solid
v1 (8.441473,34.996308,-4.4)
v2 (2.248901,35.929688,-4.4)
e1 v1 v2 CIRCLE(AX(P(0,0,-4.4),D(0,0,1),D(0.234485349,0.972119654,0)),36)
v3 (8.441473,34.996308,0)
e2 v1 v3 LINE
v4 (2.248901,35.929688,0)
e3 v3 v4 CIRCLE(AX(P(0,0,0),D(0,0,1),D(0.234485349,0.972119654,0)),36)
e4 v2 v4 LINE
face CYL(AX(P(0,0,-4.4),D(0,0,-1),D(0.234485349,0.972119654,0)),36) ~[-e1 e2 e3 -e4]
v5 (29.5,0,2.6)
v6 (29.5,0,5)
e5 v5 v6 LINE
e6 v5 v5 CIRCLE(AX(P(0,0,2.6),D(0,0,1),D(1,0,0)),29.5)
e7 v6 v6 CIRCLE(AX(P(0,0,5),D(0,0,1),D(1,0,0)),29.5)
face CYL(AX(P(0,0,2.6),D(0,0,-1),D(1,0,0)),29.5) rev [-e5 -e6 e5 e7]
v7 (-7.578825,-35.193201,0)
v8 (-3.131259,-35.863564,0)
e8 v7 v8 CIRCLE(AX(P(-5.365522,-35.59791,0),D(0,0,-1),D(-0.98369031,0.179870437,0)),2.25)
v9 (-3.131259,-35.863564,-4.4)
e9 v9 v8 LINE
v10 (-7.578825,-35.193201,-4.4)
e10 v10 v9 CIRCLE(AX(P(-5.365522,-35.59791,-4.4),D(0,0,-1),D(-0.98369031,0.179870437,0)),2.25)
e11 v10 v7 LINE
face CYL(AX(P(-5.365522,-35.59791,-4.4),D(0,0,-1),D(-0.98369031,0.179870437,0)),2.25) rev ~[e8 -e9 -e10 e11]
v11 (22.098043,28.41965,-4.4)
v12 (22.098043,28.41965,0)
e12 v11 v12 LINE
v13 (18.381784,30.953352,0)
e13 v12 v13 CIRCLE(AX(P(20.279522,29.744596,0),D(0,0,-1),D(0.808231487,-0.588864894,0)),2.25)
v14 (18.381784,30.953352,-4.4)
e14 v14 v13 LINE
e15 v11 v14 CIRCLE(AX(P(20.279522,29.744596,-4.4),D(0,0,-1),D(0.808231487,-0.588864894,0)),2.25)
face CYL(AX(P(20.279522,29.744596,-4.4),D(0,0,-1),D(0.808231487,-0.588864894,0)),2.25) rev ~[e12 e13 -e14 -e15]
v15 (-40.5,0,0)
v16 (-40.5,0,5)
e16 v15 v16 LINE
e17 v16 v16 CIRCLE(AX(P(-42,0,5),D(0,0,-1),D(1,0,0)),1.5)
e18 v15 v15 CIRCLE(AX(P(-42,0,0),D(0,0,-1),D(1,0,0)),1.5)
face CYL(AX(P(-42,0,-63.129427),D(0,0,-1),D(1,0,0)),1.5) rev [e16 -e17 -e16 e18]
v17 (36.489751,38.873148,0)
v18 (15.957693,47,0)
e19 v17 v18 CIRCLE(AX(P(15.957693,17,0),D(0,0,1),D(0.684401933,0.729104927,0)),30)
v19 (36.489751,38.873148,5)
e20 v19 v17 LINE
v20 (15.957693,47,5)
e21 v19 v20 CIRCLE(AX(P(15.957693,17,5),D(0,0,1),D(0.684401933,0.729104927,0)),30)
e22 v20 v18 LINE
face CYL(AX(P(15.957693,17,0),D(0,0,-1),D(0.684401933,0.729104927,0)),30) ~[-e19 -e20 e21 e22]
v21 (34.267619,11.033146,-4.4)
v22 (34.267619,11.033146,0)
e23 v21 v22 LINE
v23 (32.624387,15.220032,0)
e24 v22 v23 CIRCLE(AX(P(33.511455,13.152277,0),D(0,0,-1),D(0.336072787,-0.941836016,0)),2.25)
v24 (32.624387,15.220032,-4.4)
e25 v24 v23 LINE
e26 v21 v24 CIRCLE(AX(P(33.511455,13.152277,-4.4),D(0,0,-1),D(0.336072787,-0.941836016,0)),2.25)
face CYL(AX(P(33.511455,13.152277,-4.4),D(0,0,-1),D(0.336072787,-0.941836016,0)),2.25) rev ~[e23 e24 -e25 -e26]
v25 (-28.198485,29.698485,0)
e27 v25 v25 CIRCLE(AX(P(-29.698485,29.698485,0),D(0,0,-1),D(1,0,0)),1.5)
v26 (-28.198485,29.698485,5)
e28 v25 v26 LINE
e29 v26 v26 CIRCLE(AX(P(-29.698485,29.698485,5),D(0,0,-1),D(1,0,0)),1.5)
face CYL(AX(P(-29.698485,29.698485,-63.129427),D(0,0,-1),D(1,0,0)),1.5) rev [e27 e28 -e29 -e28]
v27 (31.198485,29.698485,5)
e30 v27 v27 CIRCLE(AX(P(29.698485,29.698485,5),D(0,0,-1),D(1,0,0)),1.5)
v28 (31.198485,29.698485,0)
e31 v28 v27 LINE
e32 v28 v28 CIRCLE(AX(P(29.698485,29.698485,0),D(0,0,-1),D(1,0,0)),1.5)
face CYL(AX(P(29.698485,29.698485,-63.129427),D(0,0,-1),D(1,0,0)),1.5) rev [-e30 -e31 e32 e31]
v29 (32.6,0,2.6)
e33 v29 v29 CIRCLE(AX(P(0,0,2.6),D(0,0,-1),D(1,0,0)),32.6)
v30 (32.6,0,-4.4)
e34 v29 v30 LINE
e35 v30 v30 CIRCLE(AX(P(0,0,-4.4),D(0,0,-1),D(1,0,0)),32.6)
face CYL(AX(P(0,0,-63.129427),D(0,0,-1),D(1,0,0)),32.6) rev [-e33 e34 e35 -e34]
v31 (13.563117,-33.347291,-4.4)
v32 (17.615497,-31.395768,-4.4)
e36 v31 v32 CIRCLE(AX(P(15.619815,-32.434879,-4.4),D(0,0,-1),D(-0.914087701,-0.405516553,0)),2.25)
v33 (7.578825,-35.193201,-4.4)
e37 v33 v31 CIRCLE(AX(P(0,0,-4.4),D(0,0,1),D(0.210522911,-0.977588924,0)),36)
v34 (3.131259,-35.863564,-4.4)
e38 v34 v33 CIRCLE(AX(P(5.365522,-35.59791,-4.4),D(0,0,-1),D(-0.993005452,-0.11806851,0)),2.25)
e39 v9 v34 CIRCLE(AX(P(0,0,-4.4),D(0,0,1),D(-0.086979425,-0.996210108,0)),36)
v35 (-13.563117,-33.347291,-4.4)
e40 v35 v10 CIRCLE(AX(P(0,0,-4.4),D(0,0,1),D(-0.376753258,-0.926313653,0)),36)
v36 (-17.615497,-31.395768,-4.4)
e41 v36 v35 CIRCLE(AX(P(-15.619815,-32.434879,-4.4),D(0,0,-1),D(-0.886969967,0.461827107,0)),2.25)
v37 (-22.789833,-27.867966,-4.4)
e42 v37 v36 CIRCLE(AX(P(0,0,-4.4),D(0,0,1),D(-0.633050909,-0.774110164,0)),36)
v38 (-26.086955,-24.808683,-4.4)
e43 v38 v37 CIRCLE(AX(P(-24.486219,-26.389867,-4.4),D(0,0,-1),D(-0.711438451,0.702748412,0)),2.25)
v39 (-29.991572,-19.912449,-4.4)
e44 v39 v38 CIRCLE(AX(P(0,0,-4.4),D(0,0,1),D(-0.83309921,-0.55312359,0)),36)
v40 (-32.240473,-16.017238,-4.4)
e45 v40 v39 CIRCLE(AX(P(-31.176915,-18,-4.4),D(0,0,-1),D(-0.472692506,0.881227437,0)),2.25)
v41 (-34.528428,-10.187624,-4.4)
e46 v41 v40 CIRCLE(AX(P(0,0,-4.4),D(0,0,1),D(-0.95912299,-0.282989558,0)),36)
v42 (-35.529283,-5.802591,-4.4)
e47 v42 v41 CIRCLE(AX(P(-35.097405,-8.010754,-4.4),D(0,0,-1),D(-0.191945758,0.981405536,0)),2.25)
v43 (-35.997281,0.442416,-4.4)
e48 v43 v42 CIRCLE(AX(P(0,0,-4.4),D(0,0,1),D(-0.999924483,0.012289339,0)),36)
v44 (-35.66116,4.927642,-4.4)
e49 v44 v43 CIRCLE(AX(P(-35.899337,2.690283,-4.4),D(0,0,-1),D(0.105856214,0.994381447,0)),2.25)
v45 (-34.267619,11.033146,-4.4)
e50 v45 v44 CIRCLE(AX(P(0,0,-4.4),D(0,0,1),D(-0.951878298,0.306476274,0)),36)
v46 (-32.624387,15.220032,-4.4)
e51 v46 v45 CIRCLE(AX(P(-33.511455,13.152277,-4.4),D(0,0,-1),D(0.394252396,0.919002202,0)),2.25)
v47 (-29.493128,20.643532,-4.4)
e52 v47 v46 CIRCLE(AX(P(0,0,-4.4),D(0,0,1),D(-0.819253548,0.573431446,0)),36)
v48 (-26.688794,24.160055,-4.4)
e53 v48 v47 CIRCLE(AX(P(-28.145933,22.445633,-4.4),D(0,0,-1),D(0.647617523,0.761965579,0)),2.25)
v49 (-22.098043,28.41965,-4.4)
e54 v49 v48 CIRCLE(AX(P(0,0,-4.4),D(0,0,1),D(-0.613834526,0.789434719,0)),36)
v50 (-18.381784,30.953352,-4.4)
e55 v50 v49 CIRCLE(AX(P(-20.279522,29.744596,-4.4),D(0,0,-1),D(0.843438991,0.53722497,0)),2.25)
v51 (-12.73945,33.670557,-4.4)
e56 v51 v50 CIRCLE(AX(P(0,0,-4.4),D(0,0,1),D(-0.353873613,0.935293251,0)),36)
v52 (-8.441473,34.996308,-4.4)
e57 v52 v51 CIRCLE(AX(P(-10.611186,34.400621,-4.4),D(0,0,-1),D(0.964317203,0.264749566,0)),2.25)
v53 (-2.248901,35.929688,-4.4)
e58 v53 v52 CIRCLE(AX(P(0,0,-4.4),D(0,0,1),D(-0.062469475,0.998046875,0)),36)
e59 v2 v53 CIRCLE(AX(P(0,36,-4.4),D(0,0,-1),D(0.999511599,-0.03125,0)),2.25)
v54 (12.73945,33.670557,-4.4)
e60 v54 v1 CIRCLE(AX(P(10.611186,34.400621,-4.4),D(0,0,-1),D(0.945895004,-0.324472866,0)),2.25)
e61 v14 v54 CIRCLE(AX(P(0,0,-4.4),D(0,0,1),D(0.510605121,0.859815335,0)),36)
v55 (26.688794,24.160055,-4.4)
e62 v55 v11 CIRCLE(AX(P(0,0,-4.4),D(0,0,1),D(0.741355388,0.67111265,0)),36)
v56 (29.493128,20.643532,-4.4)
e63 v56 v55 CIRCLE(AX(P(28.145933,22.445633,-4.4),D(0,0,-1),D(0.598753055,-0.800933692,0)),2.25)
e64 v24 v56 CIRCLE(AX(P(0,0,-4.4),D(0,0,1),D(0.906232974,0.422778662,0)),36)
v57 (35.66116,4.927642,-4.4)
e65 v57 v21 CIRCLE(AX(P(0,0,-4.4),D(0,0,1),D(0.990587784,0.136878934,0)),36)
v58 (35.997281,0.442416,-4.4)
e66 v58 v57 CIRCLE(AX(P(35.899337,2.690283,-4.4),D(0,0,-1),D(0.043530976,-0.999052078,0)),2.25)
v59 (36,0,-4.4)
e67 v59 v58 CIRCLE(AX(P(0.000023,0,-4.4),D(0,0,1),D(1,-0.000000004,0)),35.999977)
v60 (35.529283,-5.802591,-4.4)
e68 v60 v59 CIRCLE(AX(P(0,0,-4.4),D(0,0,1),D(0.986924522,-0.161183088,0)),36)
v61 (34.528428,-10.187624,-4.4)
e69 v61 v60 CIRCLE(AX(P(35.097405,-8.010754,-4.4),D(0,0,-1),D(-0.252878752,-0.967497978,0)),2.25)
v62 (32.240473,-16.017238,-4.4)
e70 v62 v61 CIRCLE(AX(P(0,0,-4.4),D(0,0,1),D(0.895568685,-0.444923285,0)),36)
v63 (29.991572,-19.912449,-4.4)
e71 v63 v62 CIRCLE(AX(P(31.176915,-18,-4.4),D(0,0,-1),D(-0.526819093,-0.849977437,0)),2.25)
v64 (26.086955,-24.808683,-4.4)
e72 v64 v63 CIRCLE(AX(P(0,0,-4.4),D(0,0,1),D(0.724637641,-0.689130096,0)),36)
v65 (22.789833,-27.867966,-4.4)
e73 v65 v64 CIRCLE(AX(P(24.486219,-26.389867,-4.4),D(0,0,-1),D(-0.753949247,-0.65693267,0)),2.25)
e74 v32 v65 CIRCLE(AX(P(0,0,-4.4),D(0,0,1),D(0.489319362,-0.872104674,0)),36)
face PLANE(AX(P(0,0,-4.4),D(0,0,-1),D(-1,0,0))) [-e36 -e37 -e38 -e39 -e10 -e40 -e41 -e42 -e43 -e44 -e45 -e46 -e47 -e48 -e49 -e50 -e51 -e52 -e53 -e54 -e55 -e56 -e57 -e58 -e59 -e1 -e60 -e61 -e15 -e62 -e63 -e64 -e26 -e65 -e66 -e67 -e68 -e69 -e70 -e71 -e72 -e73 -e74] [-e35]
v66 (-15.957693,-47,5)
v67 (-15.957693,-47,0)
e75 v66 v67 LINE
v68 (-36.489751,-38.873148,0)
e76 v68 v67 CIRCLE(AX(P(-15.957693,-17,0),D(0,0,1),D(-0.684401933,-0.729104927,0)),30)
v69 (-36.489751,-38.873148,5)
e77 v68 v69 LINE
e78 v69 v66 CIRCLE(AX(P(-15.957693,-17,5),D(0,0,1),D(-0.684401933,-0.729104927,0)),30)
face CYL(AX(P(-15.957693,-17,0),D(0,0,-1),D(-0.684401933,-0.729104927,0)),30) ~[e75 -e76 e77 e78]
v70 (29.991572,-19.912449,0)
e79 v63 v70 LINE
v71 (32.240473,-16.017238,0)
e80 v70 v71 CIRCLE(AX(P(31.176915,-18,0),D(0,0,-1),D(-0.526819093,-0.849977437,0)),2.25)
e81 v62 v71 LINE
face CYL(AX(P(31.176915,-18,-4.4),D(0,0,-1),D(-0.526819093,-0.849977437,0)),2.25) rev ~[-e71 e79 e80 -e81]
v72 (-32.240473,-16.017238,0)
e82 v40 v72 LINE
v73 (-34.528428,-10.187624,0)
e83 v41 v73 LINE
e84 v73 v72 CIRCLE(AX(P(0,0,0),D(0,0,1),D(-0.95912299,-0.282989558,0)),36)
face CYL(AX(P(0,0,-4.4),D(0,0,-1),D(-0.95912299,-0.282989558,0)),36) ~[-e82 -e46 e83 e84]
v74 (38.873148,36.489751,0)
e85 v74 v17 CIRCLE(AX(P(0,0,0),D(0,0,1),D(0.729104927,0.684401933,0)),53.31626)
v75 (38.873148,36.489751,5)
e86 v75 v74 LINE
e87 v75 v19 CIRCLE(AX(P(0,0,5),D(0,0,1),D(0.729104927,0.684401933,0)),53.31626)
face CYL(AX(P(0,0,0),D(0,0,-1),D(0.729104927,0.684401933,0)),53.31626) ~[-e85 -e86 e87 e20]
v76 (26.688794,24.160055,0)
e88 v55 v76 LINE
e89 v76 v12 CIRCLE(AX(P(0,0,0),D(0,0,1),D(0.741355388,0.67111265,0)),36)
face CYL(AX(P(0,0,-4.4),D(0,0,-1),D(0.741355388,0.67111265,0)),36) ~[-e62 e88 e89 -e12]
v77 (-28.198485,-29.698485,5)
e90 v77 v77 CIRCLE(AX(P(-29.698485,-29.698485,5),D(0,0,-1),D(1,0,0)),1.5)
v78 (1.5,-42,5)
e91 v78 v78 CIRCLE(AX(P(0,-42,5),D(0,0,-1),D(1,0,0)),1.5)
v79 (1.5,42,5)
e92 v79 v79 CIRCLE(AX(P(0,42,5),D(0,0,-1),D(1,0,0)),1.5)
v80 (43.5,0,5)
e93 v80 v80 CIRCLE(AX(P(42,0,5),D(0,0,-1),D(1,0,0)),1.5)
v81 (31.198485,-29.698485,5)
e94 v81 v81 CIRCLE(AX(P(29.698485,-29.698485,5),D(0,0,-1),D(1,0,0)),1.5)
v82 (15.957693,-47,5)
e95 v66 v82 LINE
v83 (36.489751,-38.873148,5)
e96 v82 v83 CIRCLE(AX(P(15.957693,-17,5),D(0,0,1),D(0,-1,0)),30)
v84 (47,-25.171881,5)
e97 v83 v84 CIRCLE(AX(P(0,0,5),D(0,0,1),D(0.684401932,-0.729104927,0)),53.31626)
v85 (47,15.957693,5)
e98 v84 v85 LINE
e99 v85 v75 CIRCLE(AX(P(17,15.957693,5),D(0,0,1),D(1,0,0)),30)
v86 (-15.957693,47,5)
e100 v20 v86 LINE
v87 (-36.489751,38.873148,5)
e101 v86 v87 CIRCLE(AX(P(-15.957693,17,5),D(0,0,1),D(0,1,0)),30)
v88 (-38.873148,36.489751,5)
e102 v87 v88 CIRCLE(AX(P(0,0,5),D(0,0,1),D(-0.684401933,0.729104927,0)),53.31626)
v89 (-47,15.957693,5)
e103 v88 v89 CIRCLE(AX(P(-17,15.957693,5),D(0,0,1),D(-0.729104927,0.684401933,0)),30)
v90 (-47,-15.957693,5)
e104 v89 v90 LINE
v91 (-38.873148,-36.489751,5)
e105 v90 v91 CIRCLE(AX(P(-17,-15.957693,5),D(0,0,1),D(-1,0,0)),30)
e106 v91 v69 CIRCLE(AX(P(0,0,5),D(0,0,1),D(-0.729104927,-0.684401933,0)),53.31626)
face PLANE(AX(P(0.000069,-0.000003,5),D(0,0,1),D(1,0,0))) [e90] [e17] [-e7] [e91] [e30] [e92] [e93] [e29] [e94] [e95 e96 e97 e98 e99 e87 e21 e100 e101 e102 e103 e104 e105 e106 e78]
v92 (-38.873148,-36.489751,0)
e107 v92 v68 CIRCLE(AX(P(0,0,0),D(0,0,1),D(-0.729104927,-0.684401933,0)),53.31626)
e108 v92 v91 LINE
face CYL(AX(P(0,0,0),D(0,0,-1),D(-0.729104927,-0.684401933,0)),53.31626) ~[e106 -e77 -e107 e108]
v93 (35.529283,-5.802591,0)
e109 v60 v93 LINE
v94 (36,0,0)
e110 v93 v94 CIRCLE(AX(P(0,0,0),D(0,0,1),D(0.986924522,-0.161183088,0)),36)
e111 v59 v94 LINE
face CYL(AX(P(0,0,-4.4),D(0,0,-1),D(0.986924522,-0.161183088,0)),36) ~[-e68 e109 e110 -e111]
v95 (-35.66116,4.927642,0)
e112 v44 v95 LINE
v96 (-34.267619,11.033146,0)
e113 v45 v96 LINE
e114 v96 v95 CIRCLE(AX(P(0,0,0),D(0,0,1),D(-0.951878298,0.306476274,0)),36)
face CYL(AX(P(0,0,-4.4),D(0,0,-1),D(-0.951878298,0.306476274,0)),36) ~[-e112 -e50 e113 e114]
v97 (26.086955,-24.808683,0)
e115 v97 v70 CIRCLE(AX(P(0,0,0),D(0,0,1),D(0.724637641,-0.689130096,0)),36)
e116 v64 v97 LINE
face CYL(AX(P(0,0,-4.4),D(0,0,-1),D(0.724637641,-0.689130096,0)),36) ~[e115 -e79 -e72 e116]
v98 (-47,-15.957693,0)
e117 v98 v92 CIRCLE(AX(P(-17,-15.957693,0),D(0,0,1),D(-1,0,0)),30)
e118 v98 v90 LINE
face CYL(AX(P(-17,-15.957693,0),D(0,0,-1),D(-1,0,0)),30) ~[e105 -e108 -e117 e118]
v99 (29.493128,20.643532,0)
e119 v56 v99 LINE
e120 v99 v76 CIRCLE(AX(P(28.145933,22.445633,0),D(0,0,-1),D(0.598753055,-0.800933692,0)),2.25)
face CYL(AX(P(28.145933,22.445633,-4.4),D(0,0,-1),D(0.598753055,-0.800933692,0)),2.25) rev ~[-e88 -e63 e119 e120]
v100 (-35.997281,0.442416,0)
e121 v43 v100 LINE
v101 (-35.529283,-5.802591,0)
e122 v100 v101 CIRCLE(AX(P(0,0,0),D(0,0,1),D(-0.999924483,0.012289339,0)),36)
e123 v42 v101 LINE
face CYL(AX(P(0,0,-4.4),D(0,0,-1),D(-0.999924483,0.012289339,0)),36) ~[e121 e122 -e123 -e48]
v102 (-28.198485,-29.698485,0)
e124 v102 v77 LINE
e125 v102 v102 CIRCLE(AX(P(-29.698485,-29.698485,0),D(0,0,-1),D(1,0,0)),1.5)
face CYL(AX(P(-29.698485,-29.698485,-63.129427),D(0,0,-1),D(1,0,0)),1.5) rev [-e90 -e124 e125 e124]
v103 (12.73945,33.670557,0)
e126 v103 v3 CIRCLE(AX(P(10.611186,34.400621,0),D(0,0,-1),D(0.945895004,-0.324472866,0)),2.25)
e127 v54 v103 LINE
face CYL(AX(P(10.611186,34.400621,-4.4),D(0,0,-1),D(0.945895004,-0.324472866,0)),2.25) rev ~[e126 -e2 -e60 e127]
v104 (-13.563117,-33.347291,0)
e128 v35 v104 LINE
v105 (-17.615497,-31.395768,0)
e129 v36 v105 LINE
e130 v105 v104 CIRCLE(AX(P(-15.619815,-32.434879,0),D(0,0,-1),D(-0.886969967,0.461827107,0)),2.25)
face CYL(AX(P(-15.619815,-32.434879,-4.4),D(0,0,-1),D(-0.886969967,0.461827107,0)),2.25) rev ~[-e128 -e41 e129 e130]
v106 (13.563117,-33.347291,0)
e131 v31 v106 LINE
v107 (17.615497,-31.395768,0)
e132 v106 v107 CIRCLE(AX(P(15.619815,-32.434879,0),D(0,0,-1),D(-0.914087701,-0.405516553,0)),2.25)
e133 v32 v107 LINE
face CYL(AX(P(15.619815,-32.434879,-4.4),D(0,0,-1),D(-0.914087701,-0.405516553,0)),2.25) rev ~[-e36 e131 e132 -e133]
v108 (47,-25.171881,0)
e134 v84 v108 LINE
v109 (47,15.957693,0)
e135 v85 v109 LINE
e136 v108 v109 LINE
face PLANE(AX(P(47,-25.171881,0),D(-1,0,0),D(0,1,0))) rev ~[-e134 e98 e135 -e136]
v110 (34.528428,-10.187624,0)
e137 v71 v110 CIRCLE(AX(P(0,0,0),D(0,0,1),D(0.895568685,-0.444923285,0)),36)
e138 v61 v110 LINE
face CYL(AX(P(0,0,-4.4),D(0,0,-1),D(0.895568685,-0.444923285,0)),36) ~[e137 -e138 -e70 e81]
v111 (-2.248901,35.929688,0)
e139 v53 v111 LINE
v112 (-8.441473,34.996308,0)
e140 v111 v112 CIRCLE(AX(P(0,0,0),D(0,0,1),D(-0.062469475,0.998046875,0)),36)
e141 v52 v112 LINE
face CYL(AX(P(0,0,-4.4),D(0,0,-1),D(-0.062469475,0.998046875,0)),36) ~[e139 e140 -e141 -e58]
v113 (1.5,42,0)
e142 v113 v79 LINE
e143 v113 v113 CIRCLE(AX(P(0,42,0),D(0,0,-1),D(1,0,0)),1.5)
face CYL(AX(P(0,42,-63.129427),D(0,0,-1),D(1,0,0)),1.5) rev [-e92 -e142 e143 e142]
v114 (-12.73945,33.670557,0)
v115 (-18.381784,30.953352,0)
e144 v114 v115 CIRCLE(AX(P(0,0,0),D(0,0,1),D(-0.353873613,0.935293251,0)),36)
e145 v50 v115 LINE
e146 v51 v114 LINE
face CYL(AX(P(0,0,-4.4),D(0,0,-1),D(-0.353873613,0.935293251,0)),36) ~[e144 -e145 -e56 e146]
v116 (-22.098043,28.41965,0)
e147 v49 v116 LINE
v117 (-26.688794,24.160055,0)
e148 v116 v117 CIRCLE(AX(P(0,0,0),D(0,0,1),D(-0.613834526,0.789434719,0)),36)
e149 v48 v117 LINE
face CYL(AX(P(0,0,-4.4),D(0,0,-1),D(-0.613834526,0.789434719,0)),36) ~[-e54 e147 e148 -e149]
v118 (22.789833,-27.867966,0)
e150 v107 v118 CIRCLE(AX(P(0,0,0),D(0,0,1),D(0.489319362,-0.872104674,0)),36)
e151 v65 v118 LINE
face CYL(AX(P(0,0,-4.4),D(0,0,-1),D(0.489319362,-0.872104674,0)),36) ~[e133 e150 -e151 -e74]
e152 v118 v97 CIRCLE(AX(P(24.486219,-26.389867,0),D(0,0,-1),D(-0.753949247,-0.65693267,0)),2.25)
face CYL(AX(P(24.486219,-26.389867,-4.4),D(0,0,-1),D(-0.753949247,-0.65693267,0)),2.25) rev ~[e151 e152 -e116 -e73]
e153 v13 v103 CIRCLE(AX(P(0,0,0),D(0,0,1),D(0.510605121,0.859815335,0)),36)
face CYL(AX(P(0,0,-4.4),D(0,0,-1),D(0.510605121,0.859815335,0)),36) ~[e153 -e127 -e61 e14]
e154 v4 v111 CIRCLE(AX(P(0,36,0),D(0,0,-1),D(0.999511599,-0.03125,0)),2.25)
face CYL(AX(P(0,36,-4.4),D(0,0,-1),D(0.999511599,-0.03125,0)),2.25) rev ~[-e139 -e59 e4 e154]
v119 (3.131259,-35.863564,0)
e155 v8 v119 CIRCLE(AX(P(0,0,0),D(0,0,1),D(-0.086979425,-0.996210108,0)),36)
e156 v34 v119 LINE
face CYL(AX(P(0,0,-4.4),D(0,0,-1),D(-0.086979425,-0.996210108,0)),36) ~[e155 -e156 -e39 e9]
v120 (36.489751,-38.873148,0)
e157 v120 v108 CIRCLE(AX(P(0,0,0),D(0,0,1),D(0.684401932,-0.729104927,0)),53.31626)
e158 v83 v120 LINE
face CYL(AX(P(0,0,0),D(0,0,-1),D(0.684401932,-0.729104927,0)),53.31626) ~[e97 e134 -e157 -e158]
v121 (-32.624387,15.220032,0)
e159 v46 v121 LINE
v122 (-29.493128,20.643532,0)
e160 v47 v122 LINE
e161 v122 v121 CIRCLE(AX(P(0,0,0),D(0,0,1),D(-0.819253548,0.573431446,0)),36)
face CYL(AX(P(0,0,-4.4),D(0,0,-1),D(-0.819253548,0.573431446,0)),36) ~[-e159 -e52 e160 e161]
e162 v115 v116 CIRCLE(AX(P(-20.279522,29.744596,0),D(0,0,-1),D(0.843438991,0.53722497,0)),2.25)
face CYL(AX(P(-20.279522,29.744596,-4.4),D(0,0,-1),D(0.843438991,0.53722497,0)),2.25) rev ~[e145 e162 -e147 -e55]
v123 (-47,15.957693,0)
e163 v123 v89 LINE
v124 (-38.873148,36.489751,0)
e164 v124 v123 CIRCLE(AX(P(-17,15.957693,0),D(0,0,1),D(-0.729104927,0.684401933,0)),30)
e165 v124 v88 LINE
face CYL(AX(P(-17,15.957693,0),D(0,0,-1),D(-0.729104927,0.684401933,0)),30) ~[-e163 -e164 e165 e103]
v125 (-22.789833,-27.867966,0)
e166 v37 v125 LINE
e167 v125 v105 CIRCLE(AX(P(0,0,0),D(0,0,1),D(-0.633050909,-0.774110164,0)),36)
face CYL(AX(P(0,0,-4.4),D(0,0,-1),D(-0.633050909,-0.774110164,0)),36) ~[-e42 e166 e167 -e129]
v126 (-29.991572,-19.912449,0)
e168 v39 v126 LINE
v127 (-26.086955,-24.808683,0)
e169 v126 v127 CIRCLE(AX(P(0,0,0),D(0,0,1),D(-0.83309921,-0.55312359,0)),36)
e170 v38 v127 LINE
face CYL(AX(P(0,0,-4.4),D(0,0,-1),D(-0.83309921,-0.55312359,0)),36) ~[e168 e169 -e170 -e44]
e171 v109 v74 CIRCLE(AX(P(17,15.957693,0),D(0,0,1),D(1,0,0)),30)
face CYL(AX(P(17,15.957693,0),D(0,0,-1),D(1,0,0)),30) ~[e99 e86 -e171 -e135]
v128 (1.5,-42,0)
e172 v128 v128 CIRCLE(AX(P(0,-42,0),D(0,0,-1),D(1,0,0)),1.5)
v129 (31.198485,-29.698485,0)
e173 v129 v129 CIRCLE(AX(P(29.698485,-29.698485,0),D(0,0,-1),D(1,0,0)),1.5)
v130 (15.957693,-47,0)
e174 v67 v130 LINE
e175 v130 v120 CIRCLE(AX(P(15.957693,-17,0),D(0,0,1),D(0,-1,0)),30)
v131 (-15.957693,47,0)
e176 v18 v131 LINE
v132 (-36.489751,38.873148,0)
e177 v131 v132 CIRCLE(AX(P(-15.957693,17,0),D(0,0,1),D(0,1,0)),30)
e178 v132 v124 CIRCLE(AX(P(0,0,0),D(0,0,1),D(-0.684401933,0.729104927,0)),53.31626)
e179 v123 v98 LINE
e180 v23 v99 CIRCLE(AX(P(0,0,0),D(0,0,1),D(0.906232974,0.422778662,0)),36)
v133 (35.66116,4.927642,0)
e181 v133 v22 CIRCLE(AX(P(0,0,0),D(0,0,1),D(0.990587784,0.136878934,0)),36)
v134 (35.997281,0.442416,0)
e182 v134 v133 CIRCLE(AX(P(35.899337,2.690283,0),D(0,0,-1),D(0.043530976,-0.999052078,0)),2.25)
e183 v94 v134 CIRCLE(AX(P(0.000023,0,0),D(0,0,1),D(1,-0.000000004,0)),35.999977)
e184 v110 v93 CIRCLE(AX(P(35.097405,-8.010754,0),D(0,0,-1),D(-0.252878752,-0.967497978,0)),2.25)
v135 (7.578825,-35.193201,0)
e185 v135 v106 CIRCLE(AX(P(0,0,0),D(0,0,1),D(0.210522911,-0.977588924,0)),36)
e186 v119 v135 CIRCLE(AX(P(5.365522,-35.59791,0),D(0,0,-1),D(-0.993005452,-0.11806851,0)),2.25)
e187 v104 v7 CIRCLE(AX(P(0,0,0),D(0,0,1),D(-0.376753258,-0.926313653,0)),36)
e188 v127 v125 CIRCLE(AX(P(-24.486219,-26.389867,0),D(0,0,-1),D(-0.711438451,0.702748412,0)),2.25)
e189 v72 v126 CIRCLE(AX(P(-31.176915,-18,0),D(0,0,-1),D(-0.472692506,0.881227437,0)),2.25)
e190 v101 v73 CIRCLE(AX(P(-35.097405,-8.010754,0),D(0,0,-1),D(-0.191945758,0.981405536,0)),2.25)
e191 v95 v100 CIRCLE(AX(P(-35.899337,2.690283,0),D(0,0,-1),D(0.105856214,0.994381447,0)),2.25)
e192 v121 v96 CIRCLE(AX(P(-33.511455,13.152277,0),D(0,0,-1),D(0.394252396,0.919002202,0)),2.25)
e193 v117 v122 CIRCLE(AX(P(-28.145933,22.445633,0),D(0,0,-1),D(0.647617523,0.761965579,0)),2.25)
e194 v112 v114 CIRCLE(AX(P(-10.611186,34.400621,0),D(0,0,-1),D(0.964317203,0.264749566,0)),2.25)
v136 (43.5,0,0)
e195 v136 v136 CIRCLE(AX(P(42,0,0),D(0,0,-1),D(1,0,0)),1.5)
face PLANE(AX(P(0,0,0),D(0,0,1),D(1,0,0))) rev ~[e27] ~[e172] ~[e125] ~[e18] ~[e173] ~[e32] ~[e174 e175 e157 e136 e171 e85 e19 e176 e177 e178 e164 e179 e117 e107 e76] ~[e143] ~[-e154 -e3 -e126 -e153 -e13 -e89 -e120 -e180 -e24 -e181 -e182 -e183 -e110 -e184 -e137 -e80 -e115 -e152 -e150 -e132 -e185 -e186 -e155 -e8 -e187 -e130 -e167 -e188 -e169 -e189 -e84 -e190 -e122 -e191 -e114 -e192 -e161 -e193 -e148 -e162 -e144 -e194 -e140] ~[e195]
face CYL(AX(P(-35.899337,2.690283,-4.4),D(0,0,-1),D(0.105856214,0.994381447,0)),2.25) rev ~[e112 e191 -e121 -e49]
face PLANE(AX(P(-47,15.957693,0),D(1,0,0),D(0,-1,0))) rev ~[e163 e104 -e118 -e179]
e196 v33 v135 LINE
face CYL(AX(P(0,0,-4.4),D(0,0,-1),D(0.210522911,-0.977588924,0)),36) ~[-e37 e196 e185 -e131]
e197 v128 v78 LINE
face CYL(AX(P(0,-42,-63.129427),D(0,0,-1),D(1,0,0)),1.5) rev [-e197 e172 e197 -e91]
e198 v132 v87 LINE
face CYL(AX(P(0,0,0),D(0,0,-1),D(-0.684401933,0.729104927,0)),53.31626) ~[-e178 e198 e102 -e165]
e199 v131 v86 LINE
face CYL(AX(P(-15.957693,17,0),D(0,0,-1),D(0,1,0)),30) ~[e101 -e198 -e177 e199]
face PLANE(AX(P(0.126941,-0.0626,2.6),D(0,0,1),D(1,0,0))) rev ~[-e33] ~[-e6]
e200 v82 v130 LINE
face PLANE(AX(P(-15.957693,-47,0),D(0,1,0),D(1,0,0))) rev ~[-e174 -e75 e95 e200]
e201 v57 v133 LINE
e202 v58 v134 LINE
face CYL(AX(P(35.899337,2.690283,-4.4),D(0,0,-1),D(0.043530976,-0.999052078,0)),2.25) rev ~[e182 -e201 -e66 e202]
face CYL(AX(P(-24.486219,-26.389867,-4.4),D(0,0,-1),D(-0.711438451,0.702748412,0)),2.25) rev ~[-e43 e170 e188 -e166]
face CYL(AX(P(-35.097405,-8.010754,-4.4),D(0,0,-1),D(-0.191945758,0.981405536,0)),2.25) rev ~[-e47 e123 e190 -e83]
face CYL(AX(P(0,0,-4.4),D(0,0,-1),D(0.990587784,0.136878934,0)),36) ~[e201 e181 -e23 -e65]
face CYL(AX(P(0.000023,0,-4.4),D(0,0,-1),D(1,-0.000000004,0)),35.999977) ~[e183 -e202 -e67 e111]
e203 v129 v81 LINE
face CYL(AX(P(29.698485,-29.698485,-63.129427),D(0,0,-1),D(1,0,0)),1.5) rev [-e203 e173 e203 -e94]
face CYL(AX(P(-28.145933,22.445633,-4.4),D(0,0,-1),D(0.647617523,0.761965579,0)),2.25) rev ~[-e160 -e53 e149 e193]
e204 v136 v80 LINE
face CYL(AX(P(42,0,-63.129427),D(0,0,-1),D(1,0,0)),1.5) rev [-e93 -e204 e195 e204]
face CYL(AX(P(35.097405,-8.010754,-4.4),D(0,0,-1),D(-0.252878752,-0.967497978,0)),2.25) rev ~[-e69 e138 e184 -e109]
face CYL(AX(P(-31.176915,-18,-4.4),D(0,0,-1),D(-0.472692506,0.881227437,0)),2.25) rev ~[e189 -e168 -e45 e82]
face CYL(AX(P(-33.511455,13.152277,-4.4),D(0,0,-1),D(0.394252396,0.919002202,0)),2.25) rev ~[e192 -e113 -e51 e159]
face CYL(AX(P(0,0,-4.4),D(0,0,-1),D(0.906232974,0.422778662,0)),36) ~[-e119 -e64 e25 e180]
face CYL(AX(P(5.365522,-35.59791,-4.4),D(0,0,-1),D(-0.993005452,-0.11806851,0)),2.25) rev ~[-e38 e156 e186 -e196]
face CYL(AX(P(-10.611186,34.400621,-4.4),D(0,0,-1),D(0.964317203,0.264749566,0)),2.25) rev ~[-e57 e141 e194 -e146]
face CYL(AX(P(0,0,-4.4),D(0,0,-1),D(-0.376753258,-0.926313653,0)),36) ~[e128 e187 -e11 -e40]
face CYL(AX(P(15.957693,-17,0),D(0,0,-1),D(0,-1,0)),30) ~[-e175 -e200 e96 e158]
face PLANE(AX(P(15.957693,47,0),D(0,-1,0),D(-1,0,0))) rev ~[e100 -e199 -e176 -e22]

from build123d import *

# Parameters (mm, degrees)
SKETCH1_R               = 36
BOSS_EXTRUDE1_DEPTH     = 5
BOSS_EXTRUDE2_START     = -4.4
BOSS_EXTRUDE2_DEPTH     = 4.4
BOSS_EXTRUDE3_START     = -5
BOSS_EXTRUDE3_DEPTH     = 5
BOSS_EXTRUDE4_START     = 4.4
SKETCH3_R               = 32.7
SKETCH3_R_2             = 32.6
BOSS_EXTRUDE4_DEPTH     = 4.4
CUT_EXTRUDE1_DEPTH      = 68.129427228
CUT_EXTRUDE1_DEPTH_BACK = 68.129427228
SKETCH4_R               = 32.6
BOSS_EXTRUDE5_START     = -2.4
SKETCH5_R               = 29.5
BOSS_EXTRUDE5_DEPTH     = 2.4
CUT_EXTRUDE3_DEPTH      = 68.129427228
CUT_EXTRUDE3_DEPTH_BACK = 68.129427228
SKETCH6_R               = 1.5


with BuildPart() as part:
    # Sketch1 → Boss-Extrude1 (new body)
    # profile 1 of 3: a face of its own
    with BuildSketch(Plane.XY):
        with BuildLine():
            Line((15.957693357, 47), (-15.957693357, 47))
            ThreePointArc((-15.957693357, 47), (-26.99865268, 44.894394011), (-36.489751331, 38.873147815))
            ThreePointArc((-36.489751331, 38.873147815), (-37.700288946, 37.700288946), (-38.873147815, 36.489751331))
            ThreePointArc((-38.873147815, 36.489751331), (-44.894394011, 26.99865268), (-47, 15.957693357))
            Line((-47, 15.957693357), (-47, -15.957693357))
            ThreePointArc((-47, -15.957693357), (-44.894394011, -26.99865268), (-38.873147815, -36.489751331))
            ThreePointArc((-38.873147815, -36.489751331), (-37.700288946, -37.700288946), (-36.489751331, -38.873147815))
            ThreePointArc((-36.489751331, -38.873147815), (-26.99865268, -44.894394011), (-15.957693357, -47))
            Line((-15.957693357, -47), (15.957693357, -47))
            ThreePointArc((15.957693357, -47), (26.99865268, -44.894394011), (36.489751331, -38.873147815))
            ThreePointArc((36.489751331, -38.873147815), (42.303260219, -32.45085127), (47, -25.171880606))
            Line((47, -25.171880606), (47, 15.957693357))
            ThreePointArc((47, 15.957693357), (44.894394011, 26.99865268), (38.873147815, 36.489751331))
            ThreePointArc((38.873147815, 36.489751331), (37.700288946, 37.700288946), (36.489751331, 38.873147815))
            ThreePointArc((36.489751331, 38.873147815), (26.99865268, 44.894394011), (15.957693357, 47))
        make_face()
        Circle(SKETCH1_R, mode=Mode.SUBTRACT)
    # profile 2 of 3: a face of its own
    with BuildSketch(Plane.XY):
        with BuildLine():
            ThreePointArc((35.529282793, -5.802591166), (35.882127728, -2.910826297), (36, 0))
            ThreePointArc((36, 0), (35.999320343, 0.221212273), (35.997281396, 0.442416194))
            ThreePointArc((35.997281396, 0.442416194), (33.655628155, 2.522140659), (35.661160217, 4.927641625))
            ThreePointArc((35.661160217, 4.927641625), (35.097404839, 8.010753622), (34.267618722, 11.03314584))
            ThreePointArc((34.267618722, 11.03314584), (31.416989017, 12.330259572), (32.62438706, 15.220031833))
            ThreePointArc((32.62438706, 15.220031833), (31.176914536, 18), (29.493127743, 20.64353206))
            ThreePointArc((29.493127743, 20.64353206), (26.386812533, 21.042780813), (26.688793942, 24.16005542))
            ThreePointArc((26.688793942, 24.16005542), (24.48621856, 26.389867386), (22.098042936, 28.419649864))
            ThreePointArc((22.098042936, 28.419649864), (19.01205196, 27.885558633), (18.381784361, 30.953352059))
            ThreePointArc((18.381784361, 30.953352059), (15.619814608, 32.434879244), (12.739450039, 33.67055706))
            ThreePointArc((12.739450039, 33.67055706), (9.947987136, 32.250582195), (8.441472573, 34.996307531))
            ThreePointArc((8.441472573, 34.996307531), (5.365521582, 35.597909744), (2.248901099, 35.9296875))
            ThreePointArc((2.248901099, 35.9296875), (0, 33.75), (-2.248901099, 35.9296875))
            ThreePointArc((-2.248901099, 35.9296875), (-5.365521582, 35.597909744), (-8.441472573, 34.996307531))
            ThreePointArc((-8.441472573, 34.996307531), (-9.947987136, 32.250582195), (-12.739450039, 33.67055706))
            ThreePointArc((-12.739450039, 33.67055706), (-15.619814608, 32.434879244), (-18.381784361, 30.953352059))
            ThreePointArc((-18.381784361, 30.953352059), (-19.01205196, 27.885558633), (-22.098042936, 28.419649864))
            ThreePointArc((-22.098042936, 28.419649864), (-24.48621856, 26.389867386), (-26.688793942, 24.16005542))
            ThreePointArc((-26.688793942, 24.16005542), (-26.386812533, 21.042780813), (-29.493127743, 20.64353206))
            ThreePointArc((-29.493127743, 20.64353206), (-31.176914536, 18), (-32.62438706, 15.220031833))
            ThreePointArc((-32.62438706, 15.220031833), (-31.416989017, 12.330259572), (-34.267618722, 11.03314584))
            ThreePointArc((-34.267618722, 11.03314584), (-35.097404839, 8.010753622), (-35.661160217, 4.927641625))
            ThreePointArc((-35.661160217, 4.927641625), (-33.655628155, 2.522140659), (-35.997281396, 0.442416194))
            ThreePointArc((-35.997281396, 0.442416194), (-35.899336699, -2.690283369), (-35.529282793, -5.802591166))
            ThreePointArc((-35.529282793, -5.802591166), (-32.903817036, -7.510081521), (-34.528427647, -10.187624072))
            ThreePointArc((-34.528427647, -10.187624072), (-33.511454951, -13.152276877), (-32.240472674, -16.017238268))
            ThreePointArc((-32.240472674, -16.017238268), (-29.228357378, -16.875), (-29.991571576, -19.912449232))
            ThreePointArc((-29.991571576, -19.912449232), (-28.145933369, -22.445632867), (-26.086955074, -24.808683459))
            ThreePointArc((-26.086955074, -24.808683459), (-22.9558299, -24.740500674), (-22.789832754, -27.867965894))
            ThreePointArc((-22.789832754, -27.867965894), (-20.27952209, -29.744595875), (-17.615497035, -31.395768253))
            ThreePointArc((-17.615497035, -31.395768253), (-14.643576195, -30.407699292), (-13.563117281, -33.347291489))
            ThreePointArc((-13.563117281, -33.347291489), (-10.611186279, -34.400621008), (-7.57882478, -35.19320126))
            ThreePointArc((-7.57882478, -35.19320126), (-5.030176483, -33.373040385), (-3.131259316, -35.863563893))
            ThreePointArc((-3.131259316, -35.863563893), (0, -36), (3.131259316, -35.863563893))
            ThreePointArc((3.131259316, -35.863563893), (5.030176483, -33.373040385), (7.57882478, -35.19320126))
            ThreePointArc((7.57882478, -35.19320126), (10.611186279, -34.400621008), (13.563117281, -33.347291489))
            ThreePointArc((13.563117281, -33.347291489), (14.643576195, -30.407699292), (17.615497035, -31.395768253))
            ThreePointArc((17.615497035, -31.395768253), (20.27952209, -29.744595875), (22.789832754, -27.867965894))
            ThreePointArc((22.789832754, -27.867965894), (22.9558299, -24.740500674), (26.086955074, -24.808683459))
            ThreePointArc((26.086955074, -24.808683459), (28.145933369, -22.445632867), (29.991571576, -19.912449232))
            ThreePointArc((29.991571576, -19.912449232), (29.228357378, -16.875), (32.240472674, -16.017238268))
            ThreePointArc((32.240472674, -16.017238268), (33.511454951, -13.152276877), (34.528427647, -10.187624072))
            ThreePointArc((34.528427647, -10.187624072), (32.903817036, -7.510081521), (35.529282793, -5.802591166))
        make_face()
        with BuildLine():
            ThreePointArc((-32.7, 0), (0, 32.7), (32.7, 0))
            ThreePointArc((32.7, 0), (0, -32.7), (-32.7, 0))
        make_face(mode=Mode.SUBTRACT)
    # profile 3 of 3: a face of its own
    with BuildSketch(Plane.XY):
        with BuildLine():
            ThreePointArc((32.7, 0), (0, 32.7), (-32.7, 0))
            ThreePointArc((-32.7, 0), (0, -32.7), (32.7, 0))
        make_face()
    extrude(amount=BOSS_EXTRUDE1_DEPTH)

    # Sketch1<4> → Boss-Extrude2 (add)
    with BuildSketch(Plane.XY.offset(BOSS_EXTRUDE2_START)):
        with BuildLine():
            ThreePointArc((35.529282793, -5.802591166), (35.882127728, -2.910826297), (36, 0))
            ThreePointArc((36, 0), (35.999320343, 0.221212273), (35.997281396, 0.442416194))
            ThreePointArc((35.997281396, 0.442416194), (33.655628155, 2.522140659), (35.661160217, 4.927641625))
            ThreePointArc((35.661160217, 4.927641625), (35.097404839, 8.010753622), (34.267618722, 11.03314584))
            ThreePointArc((34.267618722, 11.03314584), (31.416989017, 12.330259572), (32.62438706, 15.220031833))
            ThreePointArc((32.62438706, 15.220031833), (31.176914536, 18), (29.493127743, 20.64353206))
            ThreePointArc((29.493127743, 20.64353206), (26.386812533, 21.042780813), (26.688793942, 24.16005542))
            ThreePointArc((26.688793942, 24.16005542), (24.48621856, 26.389867386), (22.098042936, 28.419649864))
            ThreePointArc((22.098042936, 28.419649864), (19.01205196, 27.885558633), (18.381784361, 30.953352059))
            ThreePointArc((18.381784361, 30.953352059), (15.619814608, 32.434879244), (12.739450039, 33.67055706))
            ThreePointArc((12.739450039, 33.67055706), (9.947987136, 32.250582195), (8.441472573, 34.996307531))
            ThreePointArc((8.441472573, 34.996307531), (5.365521582, 35.597909744), (2.248901099, 35.9296875))
            ThreePointArc((2.248901099, 35.9296875), (0, 33.75), (-2.248901099, 35.9296875))
            ThreePointArc((-2.248901099, 35.9296875), (-5.365521582, 35.597909744), (-8.441472573, 34.996307531))
            ThreePointArc((-8.441472573, 34.996307531), (-9.947987136, 32.250582195), (-12.739450039, 33.67055706))
            ThreePointArc((-12.739450039, 33.67055706), (-15.619814608, 32.434879244), (-18.381784361, 30.953352059))
            ThreePointArc((-18.381784361, 30.953352059), (-19.01205196, 27.885558633), (-22.098042936, 28.419649864))
            ThreePointArc((-22.098042936, 28.419649864), (-24.48621856, 26.389867386), (-26.688793942, 24.16005542))
            ThreePointArc((-26.688793942, 24.16005542), (-26.386812533, 21.042780813), (-29.493127743, 20.64353206))
            ThreePointArc((-29.493127743, 20.64353206), (-31.176914536, 18), (-32.62438706, 15.220031833))
            ThreePointArc((-32.62438706, 15.220031833), (-31.416989017, 12.330259572), (-34.267618722, 11.03314584))
            ThreePointArc((-34.267618722, 11.03314584), (-35.097404839, 8.010753622), (-35.661160217, 4.927641625))
            ThreePointArc((-35.661160217, 4.927641625), (-33.655628155, 2.522140659), (-35.997281396, 0.442416194))
            ThreePointArc((-35.997281396, 0.442416194), (-35.899336699, -2.690283369), (-35.529282793, -5.802591166))
            ThreePointArc((-35.529282793, -5.802591166), (-32.903817036, -7.510081521), (-34.528427647, -10.187624072))
            ThreePointArc((-34.528427647, -10.187624072), (-33.511454951, -13.152276877), (-32.240472674, -16.017238268))
            ThreePointArc((-32.240472674, -16.017238268), (-29.228357378, -16.875), (-29.991571576, -19.912449232))
            ThreePointArc((-29.991571576, -19.912449232), (-28.145933369, -22.445632867), (-26.086955074, -24.808683459))
            ThreePointArc((-26.086955074, -24.808683459), (-22.9558299, -24.740500674), (-22.789832754, -27.867965894))
            ThreePointArc((-22.789832754, -27.867965894), (-20.27952209, -29.744595875), (-17.615497035, -31.395768253))
            ThreePointArc((-17.615497035, -31.395768253), (-14.643576195, -30.407699292), (-13.563117281, -33.347291489))
            ThreePointArc((-13.563117281, -33.347291489), (-10.611186279, -34.400621008), (-7.57882478, -35.19320126))
            ThreePointArc((-7.57882478, -35.19320126), (-5.030176483, -33.373040385), (-3.131259316, -35.863563893))
            ThreePointArc((-3.131259316, -35.863563893), (0, -36), (3.131259316, -35.863563893))
            ThreePointArc((3.131259316, -35.863563893), (5.030176483, -33.373040385), (7.57882478, -35.19320126))
            ThreePointArc((7.57882478, -35.19320126), (10.611186279, -34.400621008), (13.563117281, -33.347291489))
            ThreePointArc((13.563117281, -33.347291489), (14.643576195, -30.407699292), (17.615497035, -31.395768253))
            ThreePointArc((17.615497035, -31.395768253), (20.27952209, -29.744595875), (22.789832754, -27.867965894))
            ThreePointArc((22.789832754, -27.867965894), (22.9558299, -24.740500674), (26.086955074, -24.808683459))
            ThreePointArc((26.086955074, -24.808683459), (28.145933369, -22.445632867), (29.991571576, -19.912449232))
            ThreePointArc((29.991571576, -19.912449232), (29.228357378, -16.875), (32.240472674, -16.017238268))
            ThreePointArc((32.240472674, -16.017238268), (33.511454951, -13.152276877), (34.528427647, -10.187624072))
            ThreePointArc((34.528427647, -10.187624072), (32.903817036, -7.510081521), (35.529282793, -5.802591166))
        make_face()
        with BuildLine():
            ThreePointArc((-32.7, 0), (0, 32.7), (32.7, 0))
            ThreePointArc((32.7, 0), (0, -32.7), (-32.7, 0))
        make_face(mode=Mode.SUBTRACT)
    extrude(amount=BOSS_EXTRUDE2_DEPTH)

    # Sketch2 → Boss-Extrude3 (add)
    with BuildSketch(Plane.XY.offset(5).offset(BOSS_EXTRUDE3_START)):
        with BuildLine():
            Line((15.957693357, 47), (-15.957693357, 47))
            ThreePointArc((-15.957693357, 47), (-26.99865268, 44.894394011), (-36.489751331, 38.873147815))
            ThreePointArc((-36.489751331, 38.873147815), (-37.700288946, 37.700288946), (-38.873147815, 36.489751331))
            ThreePointArc((-38.873147815, 36.489751331), (-44.894394011, 26.99865268), (-47, 15.957693357))
            Line((-47, 15.957693357), (-47, -15.957693357))
            ThreePointArc((-47, -15.957693357), (-44.894394011, -26.99865268), (-38.873147815, -36.489751331))
            ThreePointArc((-38.873147815, -36.489751331), (-37.700288946, -37.700288946), (-36.489751331, -38.873147815))
            ThreePointArc((-36.489751331, -38.873147815), (-26.99865268, -44.894394011), (-15.957693357, -47))
            Line((-15.957693357, -47), (15.957693357, -47))
            ThreePointArc((15.957693357, -47), (26.99865268, -44.894394011), (36.489751331, -38.873147815))
            ThreePointArc((36.489751331, -38.873147815), (42.303260219, -32.45085127), (47, -25.171880606))
            Line((47, -25.171880606), (47, 15.957693357))
            ThreePointArc((47, 15.957693357), (44.894394011, 26.99865268), (38.873147815, 36.489751331))
            ThreePointArc((38.873147815, 36.489751331), (37.700288946, 37.700288946), (36.489751331, 38.873147815))
            ThreePointArc((36.489751331, 38.873147815), (26.99865268, 44.894394011), (15.957693357, 47))
        make_face()
    extrude(amount=BOSS_EXTRUDE3_DEPTH)

    # Sketch3 → Boss-Extrude4 (add)
    with BuildSketch(Plane(origin=(0, 0, 0), x_dir=(-1, 0, 0), z_dir=(0, 0, -1)).offset(BOSS_EXTRUDE4_START)):
        Circle(SKETCH3_R)
        Circle(SKETCH3_R_2, mode=Mode.SUBTRACT)
    extrude(amount=-BOSS_EXTRUDE4_DEPTH)

    # Sketch4 → Cut-Extrude1 (cut, two sides: drawn at the far end of the back side and taken through both)
    with BuildSketch(Plane.XY.offset(5).offset(-CUT_EXTRUDE1_DEPTH_BACK)):
        Circle(SKETCH4_R)
    extrude(amount=CUT_EXTRUDE1_DEPTH + CUT_EXTRUDE1_DEPTH_BACK, mode=Mode.SUBTRACT)

    # Sketch5 → Boss-Extrude5 (add)
    with BuildSketch(Plane.XY.offset(5).offset(BOSS_EXTRUDE5_START)):
        with BuildLine():
            Line((15.957693357, 47), (-15.957693357, 47))
            ThreePointArc((-15.957693357, 47), (-26.99865268, 44.894394011), (-36.489751331, 38.873147815))
            ThreePointArc((-36.489751331, 38.873147815), (-37.700288946, 37.700288946), (-38.873147815, 36.489751331))
            ThreePointArc((-38.873147815, 36.489751331), (-44.894394011, 26.99865268), (-47, 15.957693357))
            Line((-47, 15.957693357), (-47, -15.957693357))
            ThreePointArc((-47, -15.957693357), (-44.894394011, -26.99865268), (-38.873147815, -36.489751331))
            ThreePointArc((-38.873147815, -36.489751331), (-37.700288946, -37.700288946), (-36.489751331, -38.873147815))
            ThreePointArc((-36.489751331, -38.873147815), (-26.99865268, -44.894394011), (-15.957693357, -47))
            Line((-15.957693357, -47), (15.957693357, -47))
            ThreePointArc((15.957693357, -47), (26.99865268, -44.894394011), (36.489751331, -38.873147815))
            ThreePointArc((36.489751331, -38.873147815), (42.303260219, -32.45085127), (47, -25.171880606))
            Line((47, -25.171880606), (47, 15.957693357))
            ThreePointArc((47, 15.957693357), (44.894394011, 26.99865268), (38.873147815, 36.489751331))
            ThreePointArc((38.873147815, 36.489751331), (37.700288946, 37.700288946), (36.489751331, 38.873147815))
            ThreePointArc((36.489751331, 38.873147815), (26.99865268, 44.894394011), (15.957693357, 47))
        make_face()
        Circle(SKETCH5_R, mode=Mode.SUBTRACT)
    extrude(amount=BOSS_EXTRUDE5_DEPTH)

    # Sketch6 → Cut-Extrude3 (cut, two sides: drawn at the far end of the back side and taken through both)
    with BuildSketch(Plane.XY.offset(5).offset(-CUT_EXTRUDE3_DEPTH_BACK)):
        with Locations((42, 0)):
            Circle(SKETCH6_R)
        with Locations((29.69848481, -29.69848481)):
            Circle(SKETCH6_R)
        with Locations((0, -42)):
            Circle(SKETCH6_R)
        with Locations((-29.69848481, -29.69848481)):
            Circle(SKETCH6_R)
        with Locations((-42, 0)):
            Circle(SKETCH6_R)
        with Locations((-29.69848481, 29.69848481)):
            Circle(SKETCH6_R)
        with Locations((0, 42)):
            Circle(SKETCH6_R)
        with Locations((29.69848481, 29.69848481)):
            Circle(SKETCH6_R)
    extrude(amount=CUT_EXTRUDE3_DEPTH + CUT_EXTRUDE3_DEPTH_BACK, mode=Mode.SUBTRACT)


solid = part.part
